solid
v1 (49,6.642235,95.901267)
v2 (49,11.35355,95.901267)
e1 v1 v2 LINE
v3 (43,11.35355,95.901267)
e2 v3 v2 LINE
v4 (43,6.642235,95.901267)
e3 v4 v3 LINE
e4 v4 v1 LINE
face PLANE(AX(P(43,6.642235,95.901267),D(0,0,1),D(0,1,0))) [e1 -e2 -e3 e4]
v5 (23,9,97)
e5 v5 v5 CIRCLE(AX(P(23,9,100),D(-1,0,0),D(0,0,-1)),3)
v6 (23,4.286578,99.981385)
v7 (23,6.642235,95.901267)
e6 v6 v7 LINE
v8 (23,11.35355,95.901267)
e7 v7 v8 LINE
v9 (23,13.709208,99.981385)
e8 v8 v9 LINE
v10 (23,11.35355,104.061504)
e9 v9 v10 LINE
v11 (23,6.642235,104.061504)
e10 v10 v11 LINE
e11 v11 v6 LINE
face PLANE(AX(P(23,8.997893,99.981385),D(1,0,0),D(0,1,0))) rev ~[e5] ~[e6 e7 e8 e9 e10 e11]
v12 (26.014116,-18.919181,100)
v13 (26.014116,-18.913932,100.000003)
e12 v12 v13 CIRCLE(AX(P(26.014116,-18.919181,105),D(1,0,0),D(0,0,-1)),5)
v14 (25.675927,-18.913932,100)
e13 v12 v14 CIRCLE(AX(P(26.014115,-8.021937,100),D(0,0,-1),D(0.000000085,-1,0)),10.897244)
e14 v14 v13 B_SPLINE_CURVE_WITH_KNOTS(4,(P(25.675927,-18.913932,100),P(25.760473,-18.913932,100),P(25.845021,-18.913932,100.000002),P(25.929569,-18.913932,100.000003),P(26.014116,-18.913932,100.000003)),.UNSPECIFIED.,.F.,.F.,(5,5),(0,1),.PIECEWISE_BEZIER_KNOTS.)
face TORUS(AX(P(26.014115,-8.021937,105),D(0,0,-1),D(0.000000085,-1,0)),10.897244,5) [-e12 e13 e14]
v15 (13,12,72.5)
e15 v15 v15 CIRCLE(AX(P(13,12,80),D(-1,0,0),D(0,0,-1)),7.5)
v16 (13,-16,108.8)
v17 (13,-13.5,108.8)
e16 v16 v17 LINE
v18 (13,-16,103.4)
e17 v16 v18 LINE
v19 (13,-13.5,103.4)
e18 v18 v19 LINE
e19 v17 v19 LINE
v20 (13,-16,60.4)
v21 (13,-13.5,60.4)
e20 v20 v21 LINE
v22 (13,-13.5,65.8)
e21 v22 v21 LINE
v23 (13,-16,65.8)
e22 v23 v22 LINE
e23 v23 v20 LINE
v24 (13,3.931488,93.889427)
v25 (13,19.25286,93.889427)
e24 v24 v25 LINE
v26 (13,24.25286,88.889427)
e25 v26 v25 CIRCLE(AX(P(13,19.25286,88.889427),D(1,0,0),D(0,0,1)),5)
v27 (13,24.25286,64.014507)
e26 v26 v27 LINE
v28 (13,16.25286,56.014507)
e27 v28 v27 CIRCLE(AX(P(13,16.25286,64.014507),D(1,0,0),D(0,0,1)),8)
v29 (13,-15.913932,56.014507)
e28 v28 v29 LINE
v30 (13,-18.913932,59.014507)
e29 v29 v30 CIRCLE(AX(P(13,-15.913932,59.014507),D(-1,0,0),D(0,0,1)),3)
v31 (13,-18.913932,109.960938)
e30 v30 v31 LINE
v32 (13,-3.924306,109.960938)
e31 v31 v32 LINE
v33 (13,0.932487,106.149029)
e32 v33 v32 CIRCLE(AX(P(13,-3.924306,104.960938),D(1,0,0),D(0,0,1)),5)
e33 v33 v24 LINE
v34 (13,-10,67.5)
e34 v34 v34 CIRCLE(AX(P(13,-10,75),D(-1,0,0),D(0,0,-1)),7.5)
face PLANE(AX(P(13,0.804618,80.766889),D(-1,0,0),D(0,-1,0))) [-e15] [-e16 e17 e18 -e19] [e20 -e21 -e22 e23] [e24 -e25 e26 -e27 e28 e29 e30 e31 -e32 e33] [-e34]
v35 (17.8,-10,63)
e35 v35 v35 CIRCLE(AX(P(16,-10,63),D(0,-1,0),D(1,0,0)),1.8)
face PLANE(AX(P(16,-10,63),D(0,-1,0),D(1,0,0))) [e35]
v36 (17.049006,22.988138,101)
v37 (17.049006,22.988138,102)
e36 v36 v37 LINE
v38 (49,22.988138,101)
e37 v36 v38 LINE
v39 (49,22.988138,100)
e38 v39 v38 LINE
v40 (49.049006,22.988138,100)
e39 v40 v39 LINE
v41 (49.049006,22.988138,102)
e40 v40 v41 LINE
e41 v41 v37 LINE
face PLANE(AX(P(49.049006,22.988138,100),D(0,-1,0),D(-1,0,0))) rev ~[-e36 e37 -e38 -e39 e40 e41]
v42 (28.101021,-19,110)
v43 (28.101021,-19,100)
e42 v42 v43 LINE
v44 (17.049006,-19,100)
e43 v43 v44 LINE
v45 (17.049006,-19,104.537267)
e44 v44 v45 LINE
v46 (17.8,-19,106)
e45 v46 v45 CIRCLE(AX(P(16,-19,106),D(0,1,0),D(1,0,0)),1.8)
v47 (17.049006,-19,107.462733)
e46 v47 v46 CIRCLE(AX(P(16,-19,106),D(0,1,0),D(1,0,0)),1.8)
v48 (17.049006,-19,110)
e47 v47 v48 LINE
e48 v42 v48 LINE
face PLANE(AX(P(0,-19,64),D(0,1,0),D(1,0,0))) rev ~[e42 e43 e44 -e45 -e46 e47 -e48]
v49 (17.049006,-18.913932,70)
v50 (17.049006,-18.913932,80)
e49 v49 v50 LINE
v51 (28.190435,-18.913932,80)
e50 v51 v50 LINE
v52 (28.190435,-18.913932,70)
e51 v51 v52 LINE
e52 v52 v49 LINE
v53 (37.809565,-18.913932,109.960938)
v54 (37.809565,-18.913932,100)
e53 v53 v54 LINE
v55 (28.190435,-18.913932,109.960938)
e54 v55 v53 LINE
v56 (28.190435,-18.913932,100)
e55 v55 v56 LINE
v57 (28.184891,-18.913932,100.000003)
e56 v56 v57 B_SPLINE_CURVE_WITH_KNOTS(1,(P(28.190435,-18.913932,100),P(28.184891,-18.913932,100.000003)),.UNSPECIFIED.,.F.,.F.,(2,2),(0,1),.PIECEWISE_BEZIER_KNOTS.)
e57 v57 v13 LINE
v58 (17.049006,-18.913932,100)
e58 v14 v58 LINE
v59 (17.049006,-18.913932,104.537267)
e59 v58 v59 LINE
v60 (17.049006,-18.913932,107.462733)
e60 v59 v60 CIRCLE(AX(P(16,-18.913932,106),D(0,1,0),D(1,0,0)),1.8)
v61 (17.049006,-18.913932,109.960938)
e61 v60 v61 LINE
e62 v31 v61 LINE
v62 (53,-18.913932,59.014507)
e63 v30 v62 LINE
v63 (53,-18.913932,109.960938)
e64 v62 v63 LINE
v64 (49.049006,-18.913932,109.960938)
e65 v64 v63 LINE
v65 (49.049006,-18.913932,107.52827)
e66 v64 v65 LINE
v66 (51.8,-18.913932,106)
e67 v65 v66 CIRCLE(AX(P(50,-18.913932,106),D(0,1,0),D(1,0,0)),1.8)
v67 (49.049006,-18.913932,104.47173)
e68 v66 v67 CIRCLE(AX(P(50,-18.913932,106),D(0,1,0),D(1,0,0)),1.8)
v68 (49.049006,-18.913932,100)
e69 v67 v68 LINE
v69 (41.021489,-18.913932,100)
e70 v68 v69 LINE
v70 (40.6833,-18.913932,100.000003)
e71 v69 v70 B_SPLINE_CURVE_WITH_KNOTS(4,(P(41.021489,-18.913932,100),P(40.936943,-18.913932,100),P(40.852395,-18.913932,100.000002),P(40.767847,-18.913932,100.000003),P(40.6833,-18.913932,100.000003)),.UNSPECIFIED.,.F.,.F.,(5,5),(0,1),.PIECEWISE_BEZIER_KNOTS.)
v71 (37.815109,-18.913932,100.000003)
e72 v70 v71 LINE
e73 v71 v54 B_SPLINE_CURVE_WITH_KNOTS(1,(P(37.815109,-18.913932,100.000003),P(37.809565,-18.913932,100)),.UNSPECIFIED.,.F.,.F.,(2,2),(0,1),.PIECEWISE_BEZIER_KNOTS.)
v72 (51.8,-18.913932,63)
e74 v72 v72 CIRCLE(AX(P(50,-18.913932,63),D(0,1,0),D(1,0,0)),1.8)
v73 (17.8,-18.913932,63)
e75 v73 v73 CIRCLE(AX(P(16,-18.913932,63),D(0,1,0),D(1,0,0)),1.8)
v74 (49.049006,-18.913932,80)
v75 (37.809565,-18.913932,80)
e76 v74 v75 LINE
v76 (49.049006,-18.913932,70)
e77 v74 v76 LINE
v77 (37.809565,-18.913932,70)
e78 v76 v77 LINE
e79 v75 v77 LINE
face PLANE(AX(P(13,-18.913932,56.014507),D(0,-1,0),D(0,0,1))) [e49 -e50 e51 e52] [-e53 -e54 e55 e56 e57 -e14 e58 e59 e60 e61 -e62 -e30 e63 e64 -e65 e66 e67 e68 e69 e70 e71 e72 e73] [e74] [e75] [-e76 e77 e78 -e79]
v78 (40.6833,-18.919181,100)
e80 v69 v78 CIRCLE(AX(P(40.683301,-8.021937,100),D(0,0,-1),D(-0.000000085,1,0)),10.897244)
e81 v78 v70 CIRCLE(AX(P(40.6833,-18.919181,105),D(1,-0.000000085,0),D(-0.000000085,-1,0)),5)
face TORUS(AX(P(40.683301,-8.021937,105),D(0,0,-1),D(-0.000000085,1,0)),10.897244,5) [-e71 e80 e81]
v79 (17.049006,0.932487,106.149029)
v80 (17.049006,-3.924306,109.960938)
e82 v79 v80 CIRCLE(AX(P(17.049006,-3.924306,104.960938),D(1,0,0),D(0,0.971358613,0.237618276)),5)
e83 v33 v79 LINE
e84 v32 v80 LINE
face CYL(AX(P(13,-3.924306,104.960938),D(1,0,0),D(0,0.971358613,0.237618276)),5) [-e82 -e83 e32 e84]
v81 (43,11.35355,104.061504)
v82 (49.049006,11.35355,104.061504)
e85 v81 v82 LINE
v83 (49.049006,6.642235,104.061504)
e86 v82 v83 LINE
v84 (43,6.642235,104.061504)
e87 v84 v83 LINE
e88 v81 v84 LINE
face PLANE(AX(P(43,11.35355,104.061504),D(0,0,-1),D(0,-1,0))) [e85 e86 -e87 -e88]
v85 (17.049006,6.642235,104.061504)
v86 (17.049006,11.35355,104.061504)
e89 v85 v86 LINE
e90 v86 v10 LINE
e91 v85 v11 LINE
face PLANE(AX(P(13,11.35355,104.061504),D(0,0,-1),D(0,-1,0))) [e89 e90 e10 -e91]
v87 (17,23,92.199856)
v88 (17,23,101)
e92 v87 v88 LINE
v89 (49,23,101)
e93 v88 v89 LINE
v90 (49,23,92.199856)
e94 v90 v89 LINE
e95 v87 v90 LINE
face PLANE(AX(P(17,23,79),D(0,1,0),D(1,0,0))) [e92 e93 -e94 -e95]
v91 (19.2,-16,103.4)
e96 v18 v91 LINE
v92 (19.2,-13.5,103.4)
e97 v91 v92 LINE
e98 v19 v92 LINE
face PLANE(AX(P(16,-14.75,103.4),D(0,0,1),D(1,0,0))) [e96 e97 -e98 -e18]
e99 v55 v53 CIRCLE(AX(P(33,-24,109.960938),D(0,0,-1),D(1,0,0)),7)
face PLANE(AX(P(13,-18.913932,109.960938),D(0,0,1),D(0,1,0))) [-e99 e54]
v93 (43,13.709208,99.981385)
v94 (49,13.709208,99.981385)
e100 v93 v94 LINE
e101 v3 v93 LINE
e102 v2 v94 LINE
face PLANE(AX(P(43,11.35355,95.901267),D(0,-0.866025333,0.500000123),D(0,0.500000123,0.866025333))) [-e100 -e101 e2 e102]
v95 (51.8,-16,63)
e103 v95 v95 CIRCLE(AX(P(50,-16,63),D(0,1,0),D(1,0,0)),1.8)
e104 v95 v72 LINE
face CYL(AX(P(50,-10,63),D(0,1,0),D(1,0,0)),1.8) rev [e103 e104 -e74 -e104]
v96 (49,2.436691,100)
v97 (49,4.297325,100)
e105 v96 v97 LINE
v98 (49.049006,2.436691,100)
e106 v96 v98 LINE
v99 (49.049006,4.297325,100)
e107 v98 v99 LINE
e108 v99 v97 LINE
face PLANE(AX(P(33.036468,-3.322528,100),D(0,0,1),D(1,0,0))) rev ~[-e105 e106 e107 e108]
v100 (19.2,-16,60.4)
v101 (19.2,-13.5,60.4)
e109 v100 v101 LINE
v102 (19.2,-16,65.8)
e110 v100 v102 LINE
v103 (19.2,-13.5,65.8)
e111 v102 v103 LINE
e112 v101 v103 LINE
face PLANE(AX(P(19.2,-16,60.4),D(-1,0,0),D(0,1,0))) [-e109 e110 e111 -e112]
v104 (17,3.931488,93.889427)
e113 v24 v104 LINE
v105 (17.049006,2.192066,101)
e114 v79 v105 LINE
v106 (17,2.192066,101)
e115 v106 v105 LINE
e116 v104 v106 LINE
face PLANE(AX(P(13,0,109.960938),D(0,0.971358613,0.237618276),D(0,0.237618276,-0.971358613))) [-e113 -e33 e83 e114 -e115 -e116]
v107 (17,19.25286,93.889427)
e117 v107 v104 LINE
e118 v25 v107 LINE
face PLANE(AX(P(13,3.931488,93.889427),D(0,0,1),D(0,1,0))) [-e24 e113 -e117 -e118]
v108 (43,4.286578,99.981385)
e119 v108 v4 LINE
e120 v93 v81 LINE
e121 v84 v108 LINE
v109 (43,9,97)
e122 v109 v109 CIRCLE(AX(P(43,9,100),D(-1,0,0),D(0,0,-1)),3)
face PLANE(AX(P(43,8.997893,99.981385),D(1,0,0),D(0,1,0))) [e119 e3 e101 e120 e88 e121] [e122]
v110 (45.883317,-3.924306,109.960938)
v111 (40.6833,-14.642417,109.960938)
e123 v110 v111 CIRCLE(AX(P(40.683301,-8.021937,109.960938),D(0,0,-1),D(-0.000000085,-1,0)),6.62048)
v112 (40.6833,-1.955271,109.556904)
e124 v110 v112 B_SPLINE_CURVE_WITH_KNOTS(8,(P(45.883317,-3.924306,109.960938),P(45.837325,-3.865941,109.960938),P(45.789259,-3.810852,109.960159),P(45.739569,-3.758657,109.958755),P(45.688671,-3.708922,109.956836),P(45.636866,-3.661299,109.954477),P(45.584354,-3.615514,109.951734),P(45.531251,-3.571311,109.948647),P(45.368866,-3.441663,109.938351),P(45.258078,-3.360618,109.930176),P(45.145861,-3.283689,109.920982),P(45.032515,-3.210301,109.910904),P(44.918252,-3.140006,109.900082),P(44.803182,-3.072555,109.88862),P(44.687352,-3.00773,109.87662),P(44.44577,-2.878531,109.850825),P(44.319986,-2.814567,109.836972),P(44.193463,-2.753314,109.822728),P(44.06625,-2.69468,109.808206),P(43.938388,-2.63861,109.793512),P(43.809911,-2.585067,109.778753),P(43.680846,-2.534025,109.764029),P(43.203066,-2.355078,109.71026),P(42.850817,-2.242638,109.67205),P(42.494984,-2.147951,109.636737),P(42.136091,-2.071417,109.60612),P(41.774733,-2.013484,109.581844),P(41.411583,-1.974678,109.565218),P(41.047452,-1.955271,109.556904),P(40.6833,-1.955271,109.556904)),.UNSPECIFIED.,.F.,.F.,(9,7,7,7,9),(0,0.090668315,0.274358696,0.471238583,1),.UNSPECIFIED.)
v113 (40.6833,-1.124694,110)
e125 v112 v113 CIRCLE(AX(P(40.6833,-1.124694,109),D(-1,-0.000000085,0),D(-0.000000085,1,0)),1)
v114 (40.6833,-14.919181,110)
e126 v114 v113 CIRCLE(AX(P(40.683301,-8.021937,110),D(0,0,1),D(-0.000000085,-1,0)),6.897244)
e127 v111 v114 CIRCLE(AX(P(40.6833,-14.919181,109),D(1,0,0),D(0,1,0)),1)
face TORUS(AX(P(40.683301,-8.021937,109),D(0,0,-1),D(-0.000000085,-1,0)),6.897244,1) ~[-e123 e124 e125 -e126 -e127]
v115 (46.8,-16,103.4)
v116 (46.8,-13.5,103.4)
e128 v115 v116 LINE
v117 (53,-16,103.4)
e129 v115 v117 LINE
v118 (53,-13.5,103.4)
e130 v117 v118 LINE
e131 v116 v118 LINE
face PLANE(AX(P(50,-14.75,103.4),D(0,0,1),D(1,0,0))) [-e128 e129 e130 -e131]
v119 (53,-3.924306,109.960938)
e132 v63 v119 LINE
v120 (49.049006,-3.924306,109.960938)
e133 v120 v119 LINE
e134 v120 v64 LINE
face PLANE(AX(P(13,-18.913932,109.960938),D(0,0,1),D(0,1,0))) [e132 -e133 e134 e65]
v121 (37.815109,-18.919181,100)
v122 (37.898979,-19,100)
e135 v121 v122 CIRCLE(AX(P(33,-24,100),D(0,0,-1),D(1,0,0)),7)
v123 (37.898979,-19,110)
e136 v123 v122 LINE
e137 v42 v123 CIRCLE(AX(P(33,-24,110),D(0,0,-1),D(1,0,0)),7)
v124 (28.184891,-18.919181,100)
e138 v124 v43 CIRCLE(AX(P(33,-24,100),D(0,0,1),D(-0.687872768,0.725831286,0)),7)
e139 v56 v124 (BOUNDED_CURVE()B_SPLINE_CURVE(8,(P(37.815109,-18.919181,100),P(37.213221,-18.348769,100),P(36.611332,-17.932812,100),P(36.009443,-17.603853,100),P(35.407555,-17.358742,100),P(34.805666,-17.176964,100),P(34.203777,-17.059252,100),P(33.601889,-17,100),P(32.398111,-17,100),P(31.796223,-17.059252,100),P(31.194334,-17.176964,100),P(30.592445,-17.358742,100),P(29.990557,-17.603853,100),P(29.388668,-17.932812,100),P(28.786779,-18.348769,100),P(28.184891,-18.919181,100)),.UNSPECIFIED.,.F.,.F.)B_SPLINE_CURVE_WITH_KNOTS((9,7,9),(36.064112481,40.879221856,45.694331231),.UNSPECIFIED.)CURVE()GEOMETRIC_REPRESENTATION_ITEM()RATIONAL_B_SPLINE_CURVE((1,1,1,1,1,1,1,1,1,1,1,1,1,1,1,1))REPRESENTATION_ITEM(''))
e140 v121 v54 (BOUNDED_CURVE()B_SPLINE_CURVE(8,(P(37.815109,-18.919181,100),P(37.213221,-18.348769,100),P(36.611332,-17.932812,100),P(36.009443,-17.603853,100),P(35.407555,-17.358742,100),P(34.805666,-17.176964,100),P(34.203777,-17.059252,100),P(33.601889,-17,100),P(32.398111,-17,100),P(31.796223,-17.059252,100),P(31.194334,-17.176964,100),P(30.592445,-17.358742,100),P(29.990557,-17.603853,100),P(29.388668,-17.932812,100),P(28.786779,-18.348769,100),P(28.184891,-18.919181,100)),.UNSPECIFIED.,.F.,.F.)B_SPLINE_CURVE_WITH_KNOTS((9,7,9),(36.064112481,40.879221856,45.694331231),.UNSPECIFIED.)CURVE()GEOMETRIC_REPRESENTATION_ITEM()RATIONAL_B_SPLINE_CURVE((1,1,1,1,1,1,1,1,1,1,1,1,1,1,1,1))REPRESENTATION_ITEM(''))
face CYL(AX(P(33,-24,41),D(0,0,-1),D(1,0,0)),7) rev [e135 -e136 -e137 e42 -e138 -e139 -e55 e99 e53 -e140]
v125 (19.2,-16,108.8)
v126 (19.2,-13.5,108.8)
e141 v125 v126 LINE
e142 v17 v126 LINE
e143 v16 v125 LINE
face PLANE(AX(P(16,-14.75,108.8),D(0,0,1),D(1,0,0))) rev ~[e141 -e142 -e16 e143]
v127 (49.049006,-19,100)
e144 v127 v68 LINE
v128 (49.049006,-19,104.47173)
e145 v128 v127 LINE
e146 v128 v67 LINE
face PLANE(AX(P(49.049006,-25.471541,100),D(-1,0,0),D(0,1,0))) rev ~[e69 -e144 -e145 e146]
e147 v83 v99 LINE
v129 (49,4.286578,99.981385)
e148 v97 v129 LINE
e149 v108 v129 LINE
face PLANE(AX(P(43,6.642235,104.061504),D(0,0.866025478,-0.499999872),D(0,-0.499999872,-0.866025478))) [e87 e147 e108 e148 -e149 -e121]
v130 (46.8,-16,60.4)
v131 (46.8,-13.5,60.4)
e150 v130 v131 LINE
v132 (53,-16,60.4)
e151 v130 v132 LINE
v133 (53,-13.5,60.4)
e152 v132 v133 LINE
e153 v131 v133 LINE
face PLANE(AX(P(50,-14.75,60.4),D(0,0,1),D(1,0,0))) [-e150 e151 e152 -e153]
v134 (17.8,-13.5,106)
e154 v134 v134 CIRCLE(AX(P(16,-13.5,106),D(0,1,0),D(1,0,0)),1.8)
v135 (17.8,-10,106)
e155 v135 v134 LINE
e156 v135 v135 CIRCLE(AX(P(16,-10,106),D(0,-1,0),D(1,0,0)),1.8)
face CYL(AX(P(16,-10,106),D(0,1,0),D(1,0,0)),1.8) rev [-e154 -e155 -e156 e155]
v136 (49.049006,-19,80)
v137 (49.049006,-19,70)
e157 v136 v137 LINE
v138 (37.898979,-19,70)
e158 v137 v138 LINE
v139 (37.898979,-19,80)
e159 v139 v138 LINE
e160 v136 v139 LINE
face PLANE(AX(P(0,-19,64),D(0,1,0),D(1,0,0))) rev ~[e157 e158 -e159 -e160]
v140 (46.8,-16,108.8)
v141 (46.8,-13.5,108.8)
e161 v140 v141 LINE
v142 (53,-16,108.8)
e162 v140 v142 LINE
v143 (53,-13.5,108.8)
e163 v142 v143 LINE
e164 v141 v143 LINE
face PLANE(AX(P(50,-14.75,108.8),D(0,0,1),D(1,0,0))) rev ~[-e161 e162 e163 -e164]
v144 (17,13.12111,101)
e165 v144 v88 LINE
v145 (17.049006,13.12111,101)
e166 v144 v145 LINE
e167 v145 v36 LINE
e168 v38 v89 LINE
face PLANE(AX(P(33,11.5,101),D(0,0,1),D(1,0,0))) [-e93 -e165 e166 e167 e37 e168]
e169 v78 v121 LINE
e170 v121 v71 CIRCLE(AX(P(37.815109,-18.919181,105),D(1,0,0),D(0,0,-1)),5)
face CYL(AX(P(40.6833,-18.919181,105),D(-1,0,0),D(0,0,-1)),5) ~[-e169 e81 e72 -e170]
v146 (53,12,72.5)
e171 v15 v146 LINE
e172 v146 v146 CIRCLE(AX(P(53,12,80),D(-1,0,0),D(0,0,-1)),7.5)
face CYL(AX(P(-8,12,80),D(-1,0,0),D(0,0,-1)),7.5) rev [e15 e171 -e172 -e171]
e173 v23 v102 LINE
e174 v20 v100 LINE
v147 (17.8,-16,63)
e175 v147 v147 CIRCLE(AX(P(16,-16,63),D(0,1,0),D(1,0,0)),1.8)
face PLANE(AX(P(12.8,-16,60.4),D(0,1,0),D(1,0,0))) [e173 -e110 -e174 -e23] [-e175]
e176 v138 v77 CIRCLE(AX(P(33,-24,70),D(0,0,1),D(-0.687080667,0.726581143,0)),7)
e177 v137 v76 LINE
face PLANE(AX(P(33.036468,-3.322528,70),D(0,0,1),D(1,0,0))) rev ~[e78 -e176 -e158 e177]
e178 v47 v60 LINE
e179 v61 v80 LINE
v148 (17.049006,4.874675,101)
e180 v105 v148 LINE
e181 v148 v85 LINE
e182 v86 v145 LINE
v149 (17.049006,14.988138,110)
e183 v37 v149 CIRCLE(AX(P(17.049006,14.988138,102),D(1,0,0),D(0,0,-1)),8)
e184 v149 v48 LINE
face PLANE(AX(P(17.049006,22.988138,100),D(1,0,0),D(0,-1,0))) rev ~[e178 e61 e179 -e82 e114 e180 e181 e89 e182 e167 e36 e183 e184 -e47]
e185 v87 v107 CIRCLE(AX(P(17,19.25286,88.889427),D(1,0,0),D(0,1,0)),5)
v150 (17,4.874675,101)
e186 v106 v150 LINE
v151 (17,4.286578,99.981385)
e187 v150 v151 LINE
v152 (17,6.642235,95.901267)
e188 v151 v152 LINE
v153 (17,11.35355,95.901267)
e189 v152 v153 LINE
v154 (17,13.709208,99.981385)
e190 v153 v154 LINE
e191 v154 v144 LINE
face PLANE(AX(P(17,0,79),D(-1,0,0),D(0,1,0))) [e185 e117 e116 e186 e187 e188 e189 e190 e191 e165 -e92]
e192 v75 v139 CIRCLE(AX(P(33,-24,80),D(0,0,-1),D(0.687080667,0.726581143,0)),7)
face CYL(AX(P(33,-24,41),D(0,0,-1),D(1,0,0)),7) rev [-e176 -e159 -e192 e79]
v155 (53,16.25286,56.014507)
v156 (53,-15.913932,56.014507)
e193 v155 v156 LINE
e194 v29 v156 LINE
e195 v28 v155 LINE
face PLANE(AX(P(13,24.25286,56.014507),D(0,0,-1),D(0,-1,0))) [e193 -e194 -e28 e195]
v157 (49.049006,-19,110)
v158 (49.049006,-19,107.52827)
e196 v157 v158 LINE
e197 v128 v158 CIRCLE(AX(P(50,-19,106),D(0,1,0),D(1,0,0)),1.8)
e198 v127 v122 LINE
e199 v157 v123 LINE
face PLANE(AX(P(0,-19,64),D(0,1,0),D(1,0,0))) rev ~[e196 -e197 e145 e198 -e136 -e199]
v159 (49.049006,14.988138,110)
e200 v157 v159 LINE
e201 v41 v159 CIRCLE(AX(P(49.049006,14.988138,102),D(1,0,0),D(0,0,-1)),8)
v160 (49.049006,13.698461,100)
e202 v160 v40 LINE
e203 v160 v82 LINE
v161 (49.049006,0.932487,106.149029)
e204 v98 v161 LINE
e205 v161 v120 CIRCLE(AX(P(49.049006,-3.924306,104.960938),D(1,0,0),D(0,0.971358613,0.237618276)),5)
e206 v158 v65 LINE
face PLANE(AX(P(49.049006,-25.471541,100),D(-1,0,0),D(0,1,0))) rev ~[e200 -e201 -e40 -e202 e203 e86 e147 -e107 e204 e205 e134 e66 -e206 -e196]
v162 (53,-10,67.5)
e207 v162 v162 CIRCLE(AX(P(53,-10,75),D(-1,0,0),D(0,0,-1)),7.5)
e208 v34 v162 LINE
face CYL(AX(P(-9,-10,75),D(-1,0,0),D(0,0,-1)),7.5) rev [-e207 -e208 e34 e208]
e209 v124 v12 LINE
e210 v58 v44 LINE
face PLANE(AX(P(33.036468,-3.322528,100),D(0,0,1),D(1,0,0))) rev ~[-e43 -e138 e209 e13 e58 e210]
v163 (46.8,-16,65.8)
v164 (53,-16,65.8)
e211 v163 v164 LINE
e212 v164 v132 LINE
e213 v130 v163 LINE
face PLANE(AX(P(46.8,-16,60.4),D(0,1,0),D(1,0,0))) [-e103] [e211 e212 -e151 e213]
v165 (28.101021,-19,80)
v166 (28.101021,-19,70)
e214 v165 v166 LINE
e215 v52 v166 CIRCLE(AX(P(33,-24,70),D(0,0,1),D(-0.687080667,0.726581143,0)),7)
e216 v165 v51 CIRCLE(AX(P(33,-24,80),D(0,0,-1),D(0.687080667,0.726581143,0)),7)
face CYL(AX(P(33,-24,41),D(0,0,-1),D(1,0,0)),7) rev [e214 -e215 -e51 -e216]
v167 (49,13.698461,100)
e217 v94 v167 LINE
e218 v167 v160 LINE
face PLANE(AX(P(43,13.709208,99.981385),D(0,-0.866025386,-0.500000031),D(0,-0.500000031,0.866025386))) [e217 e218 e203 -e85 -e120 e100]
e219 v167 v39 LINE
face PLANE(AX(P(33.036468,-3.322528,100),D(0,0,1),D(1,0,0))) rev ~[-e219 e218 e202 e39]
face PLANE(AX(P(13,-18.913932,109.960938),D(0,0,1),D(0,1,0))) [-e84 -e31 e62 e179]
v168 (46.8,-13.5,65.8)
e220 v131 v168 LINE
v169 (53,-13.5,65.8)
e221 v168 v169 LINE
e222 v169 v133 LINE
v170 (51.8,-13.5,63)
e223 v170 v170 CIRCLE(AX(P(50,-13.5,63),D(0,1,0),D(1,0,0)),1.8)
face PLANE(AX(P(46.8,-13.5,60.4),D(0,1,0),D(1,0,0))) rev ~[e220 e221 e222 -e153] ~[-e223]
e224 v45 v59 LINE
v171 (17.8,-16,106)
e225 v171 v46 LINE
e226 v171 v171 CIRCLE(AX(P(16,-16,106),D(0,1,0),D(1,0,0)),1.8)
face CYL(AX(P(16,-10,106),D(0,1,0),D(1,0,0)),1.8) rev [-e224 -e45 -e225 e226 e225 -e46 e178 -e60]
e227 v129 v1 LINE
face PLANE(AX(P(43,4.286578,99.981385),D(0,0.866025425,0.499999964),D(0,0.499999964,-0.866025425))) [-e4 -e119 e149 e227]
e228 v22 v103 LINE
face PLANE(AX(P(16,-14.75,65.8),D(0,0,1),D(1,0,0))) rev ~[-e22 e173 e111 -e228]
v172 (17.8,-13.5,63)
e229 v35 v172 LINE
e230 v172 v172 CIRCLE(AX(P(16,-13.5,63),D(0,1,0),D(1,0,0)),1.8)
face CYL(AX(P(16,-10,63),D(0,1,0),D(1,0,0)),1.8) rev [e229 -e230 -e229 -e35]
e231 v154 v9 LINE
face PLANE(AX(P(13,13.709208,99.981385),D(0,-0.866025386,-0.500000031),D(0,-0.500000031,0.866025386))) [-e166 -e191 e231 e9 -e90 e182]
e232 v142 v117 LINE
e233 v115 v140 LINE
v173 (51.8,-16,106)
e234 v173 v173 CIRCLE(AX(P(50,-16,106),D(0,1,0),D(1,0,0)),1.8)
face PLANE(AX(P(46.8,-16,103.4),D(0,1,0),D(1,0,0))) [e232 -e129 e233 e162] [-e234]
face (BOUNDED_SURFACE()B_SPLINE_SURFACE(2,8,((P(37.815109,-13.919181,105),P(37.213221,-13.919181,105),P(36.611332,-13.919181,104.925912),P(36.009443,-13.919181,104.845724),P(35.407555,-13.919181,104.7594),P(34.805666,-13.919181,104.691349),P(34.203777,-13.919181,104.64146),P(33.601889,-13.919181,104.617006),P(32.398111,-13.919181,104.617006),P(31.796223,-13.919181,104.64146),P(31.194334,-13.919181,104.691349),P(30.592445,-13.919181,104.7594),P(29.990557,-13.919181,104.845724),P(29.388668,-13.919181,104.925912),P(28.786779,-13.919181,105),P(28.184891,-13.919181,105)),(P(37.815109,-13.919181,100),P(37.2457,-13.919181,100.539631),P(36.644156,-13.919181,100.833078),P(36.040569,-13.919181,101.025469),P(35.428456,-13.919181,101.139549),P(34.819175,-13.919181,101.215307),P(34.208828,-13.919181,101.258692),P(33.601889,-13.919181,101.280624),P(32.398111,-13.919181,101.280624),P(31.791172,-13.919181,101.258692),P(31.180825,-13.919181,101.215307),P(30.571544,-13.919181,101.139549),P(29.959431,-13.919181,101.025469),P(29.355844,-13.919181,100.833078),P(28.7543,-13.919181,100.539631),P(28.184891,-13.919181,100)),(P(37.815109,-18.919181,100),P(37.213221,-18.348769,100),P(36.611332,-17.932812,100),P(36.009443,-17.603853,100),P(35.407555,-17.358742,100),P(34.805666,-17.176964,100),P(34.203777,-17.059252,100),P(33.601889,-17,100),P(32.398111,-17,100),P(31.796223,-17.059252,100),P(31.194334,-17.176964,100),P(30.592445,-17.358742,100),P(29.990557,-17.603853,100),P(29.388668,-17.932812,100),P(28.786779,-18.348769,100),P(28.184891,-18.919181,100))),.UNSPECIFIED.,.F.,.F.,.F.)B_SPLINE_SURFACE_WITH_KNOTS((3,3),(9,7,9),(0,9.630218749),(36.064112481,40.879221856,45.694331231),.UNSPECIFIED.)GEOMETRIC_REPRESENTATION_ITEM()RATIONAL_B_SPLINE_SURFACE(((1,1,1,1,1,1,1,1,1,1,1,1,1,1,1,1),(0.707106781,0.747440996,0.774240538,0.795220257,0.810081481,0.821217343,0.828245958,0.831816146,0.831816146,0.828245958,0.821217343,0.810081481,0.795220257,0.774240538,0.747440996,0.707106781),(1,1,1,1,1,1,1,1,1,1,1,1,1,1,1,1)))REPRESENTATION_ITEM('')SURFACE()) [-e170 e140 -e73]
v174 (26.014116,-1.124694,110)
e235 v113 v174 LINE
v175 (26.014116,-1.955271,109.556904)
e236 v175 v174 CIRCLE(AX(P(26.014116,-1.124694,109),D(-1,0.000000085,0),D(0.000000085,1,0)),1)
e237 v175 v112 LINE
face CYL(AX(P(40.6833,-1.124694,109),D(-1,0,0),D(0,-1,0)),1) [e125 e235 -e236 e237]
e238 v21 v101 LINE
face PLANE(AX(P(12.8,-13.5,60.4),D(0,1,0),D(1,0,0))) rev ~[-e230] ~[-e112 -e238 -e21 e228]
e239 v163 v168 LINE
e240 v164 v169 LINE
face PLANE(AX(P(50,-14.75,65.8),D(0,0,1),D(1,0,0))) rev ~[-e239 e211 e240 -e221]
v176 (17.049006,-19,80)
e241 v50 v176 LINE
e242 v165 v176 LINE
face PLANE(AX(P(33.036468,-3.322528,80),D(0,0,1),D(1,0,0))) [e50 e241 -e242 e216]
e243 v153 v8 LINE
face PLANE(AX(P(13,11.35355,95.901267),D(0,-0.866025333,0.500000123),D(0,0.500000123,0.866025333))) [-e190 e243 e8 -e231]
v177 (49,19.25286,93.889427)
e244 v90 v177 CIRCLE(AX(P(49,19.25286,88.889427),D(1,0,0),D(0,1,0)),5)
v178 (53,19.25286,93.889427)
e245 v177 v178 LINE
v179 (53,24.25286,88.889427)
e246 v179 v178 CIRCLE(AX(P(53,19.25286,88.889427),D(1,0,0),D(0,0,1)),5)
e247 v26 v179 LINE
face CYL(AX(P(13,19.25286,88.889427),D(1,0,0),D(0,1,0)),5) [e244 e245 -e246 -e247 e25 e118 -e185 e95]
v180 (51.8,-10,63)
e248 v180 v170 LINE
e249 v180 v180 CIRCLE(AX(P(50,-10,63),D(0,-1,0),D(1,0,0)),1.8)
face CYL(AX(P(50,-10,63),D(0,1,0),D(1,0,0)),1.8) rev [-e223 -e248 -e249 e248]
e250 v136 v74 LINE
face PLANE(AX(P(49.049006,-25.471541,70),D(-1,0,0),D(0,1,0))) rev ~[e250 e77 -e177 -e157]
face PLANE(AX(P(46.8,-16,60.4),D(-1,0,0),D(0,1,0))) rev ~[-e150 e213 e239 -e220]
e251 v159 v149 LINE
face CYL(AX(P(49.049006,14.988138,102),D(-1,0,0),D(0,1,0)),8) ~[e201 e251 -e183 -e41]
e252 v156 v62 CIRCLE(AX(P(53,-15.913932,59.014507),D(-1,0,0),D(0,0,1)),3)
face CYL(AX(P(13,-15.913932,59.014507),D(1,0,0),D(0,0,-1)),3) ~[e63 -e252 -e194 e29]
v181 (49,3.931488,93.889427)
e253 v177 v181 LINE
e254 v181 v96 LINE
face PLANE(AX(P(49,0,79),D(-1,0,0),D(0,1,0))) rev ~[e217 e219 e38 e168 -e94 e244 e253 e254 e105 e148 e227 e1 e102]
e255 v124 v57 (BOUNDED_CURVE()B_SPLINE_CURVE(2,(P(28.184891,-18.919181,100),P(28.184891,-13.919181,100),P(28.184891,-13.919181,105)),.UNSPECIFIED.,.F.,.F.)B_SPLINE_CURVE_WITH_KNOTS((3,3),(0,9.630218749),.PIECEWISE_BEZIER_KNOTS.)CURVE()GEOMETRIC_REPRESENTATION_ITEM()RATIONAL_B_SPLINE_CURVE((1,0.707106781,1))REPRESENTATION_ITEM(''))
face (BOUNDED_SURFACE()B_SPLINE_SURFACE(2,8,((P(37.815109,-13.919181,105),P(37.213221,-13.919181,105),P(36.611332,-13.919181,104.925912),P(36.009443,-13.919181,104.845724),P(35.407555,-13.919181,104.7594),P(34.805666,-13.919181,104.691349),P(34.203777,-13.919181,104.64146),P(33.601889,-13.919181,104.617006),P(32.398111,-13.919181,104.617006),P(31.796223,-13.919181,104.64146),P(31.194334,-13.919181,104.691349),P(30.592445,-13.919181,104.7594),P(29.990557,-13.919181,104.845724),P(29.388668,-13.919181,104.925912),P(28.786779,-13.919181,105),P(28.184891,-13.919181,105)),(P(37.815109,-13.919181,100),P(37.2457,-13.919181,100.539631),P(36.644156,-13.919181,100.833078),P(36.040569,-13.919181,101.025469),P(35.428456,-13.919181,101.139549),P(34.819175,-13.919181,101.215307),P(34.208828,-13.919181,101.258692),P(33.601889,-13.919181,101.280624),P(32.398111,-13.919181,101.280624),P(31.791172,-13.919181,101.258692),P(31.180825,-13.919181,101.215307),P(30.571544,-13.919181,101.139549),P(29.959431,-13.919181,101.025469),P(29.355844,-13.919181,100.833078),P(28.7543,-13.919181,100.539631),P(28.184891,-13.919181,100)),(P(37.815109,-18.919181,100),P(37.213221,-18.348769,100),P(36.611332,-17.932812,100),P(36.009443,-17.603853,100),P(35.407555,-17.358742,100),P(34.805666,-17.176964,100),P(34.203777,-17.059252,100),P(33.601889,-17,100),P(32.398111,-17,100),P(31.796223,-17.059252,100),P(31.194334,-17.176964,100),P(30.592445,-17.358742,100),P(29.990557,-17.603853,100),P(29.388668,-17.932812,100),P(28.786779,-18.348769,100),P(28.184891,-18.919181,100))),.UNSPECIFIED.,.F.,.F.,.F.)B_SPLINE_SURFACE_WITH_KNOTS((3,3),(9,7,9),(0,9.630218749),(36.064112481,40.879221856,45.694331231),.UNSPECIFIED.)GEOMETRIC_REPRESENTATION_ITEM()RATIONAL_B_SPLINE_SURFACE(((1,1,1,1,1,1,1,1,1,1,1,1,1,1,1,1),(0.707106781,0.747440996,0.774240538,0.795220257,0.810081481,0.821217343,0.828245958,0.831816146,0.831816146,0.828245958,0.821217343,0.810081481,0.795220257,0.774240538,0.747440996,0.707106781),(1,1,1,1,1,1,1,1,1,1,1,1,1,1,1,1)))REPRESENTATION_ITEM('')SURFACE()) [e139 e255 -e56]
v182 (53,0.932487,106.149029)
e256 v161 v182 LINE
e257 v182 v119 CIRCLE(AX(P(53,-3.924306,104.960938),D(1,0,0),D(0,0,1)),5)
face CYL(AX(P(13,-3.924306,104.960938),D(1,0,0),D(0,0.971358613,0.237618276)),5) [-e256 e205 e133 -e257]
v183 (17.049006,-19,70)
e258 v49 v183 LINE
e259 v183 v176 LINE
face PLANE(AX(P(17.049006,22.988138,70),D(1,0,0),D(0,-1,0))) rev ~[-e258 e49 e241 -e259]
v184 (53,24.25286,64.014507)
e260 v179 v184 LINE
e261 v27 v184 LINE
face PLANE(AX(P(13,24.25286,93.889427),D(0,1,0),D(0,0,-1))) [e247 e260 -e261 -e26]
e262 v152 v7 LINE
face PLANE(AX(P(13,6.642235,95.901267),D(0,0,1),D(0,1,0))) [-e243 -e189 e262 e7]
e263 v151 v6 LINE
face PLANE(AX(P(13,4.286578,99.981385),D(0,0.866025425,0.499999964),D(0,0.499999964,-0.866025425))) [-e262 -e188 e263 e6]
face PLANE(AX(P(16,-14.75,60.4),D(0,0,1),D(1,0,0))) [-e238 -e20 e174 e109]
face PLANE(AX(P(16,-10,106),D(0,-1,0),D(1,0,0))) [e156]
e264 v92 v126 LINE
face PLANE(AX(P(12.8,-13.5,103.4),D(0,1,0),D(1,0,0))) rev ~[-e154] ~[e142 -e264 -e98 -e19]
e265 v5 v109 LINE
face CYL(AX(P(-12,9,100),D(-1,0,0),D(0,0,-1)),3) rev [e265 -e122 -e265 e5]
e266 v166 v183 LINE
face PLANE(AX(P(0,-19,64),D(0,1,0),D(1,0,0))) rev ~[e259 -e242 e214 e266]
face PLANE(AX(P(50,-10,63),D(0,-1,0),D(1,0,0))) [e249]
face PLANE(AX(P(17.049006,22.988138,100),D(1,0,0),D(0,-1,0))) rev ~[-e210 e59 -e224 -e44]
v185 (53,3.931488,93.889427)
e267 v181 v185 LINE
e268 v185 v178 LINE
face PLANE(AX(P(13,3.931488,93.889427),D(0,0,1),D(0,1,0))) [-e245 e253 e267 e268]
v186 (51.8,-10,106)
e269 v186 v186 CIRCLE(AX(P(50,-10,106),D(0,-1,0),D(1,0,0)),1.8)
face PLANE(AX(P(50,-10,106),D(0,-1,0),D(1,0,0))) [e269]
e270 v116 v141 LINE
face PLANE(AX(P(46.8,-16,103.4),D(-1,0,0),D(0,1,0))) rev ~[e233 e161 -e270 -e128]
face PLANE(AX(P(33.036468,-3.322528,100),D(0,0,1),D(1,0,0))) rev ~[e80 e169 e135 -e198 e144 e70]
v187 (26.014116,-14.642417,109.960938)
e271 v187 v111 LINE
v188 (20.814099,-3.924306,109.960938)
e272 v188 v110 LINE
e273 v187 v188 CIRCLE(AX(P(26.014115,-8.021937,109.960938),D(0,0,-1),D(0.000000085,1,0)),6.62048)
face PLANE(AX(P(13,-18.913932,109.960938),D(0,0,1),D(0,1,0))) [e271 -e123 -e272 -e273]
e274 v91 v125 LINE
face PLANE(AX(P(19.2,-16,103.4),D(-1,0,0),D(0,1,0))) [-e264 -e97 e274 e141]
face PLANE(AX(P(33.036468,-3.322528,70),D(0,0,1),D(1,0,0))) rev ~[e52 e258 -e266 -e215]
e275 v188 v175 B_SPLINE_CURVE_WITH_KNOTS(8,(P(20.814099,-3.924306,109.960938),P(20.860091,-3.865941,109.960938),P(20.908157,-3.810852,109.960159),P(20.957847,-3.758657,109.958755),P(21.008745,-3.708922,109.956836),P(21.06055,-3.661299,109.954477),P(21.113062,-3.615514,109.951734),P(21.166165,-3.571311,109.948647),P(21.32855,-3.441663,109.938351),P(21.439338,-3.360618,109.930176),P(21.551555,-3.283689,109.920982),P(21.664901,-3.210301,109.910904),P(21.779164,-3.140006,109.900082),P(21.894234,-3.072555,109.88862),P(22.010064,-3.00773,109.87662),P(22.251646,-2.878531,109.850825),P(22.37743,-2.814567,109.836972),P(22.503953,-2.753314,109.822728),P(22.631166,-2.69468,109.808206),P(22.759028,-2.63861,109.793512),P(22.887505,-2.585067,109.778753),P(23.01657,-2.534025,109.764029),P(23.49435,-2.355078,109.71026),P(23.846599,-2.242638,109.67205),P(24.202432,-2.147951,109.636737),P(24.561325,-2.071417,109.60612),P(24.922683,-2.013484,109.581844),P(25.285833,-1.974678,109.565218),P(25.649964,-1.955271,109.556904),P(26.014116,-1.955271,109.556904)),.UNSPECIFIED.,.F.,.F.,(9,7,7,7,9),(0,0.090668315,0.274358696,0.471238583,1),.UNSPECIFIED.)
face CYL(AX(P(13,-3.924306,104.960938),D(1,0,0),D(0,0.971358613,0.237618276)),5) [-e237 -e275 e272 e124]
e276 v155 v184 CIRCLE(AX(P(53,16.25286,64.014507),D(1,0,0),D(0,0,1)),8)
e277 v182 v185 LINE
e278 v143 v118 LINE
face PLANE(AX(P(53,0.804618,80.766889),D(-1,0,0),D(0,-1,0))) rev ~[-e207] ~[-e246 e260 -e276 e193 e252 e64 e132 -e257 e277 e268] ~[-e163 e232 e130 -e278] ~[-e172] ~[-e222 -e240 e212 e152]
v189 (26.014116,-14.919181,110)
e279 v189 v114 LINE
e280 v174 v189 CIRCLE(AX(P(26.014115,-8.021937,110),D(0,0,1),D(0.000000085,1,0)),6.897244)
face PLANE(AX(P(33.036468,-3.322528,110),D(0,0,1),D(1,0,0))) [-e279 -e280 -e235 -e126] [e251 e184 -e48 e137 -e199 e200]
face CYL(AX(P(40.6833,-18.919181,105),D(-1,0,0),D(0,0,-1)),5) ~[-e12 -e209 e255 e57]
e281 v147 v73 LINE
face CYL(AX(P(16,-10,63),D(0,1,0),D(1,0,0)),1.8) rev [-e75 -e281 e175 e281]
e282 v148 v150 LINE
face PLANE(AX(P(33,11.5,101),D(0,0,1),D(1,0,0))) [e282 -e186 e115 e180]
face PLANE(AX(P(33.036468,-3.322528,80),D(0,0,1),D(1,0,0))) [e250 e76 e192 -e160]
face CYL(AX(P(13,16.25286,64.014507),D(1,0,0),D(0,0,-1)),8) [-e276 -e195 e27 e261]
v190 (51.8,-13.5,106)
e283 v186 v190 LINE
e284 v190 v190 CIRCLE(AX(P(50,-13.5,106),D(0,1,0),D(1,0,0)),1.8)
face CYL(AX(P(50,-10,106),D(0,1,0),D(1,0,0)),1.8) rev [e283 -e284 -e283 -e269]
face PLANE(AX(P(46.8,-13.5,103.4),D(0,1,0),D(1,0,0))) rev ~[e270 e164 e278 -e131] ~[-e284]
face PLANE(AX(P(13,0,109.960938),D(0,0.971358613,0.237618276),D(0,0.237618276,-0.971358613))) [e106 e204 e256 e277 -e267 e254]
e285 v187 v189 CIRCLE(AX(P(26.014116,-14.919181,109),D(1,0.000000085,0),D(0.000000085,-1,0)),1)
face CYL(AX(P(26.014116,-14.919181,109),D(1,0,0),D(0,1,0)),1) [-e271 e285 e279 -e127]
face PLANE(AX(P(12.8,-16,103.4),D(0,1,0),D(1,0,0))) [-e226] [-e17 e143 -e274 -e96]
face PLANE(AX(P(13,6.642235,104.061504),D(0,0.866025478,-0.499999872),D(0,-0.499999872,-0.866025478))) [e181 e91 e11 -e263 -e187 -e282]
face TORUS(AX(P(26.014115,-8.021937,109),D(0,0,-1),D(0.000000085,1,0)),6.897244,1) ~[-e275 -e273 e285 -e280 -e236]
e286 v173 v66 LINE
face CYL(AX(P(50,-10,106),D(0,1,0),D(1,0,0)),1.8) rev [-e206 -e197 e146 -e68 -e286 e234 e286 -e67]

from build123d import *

# Parameters (mm, degrees)
CYLINDER078_R           = 7.5
CYLINDER078_DEPTH       = 180
CYLINDER078_PITCH_ANGLE = 90
CYLINDER090_R           = 7.5
CYLINDER090_DEPTH       = 180
CYLINDER090_PITCH_ANGLE = 90
CYLINDER099_R           = 1.8
CYLINDER099_DEPTH       = 34
CYLINDER099_ROLL_ANGLE  = 90
CYLINDER098_R           = 1.8
CYLINDER098_DEPTH       = 34
CYLINDER098_ROLL_ANGLE  = 90
CYLINDER101_R           = 1.8
CYLINDER101_DEPTH       = 34
CYLINDER101_ROLL_ANGLE  = 90
CYLINDER100_R           = 1.8
CYLINDER100_DEPTH       = 34
CYLINDER100_ROLL_ANGLE  = 90
BOX049_W                = 6.4
BOX049_H                = 2.5
BOX049_DEPTH            = 5.4
BOX050_W                = 6.4
BOX050_H                = 2.5
BOX050_DEPTH            = 5.4
BOX051_W                = 6.4
BOX051_H                = 2.5
BOX051_DEPTH            = 5.4
BOX052_W                = 6.4
BOX052_H                = 2.5
BOX052_DEPTH            = 5.4
BOX045_W                = 59
BOX045_H                = 21
BOX045_DEPTH            = 48
BOX044_W                = 3
BOX044_H                = 6
BOX044_DEPTH            = 23
CYLINDER095_R           = 1.4
CYLINDER095_DEPTH       = 10
CYLINDER095_ROLL_ANGLE  = 90
CYLINDER097_R           = 1.4
CYLINDER097_DEPTH       = 10
CYLINDER097_ROLL_ANGLE  = 90
CYLINDER094_R           = 5
CYLINDER094_DEPTH       = 5
CYLINDER094_ROLL_ANGLE  = 90
CYLINDER093_R           = 3
CYLINDER093_DEPTH       = 180
CYLINDER093_PITCH_ANGLE = 90
PAD050_DEPTH            = 10
PAD049_DEPTH            = 10
CYLINDER091_R           = 7.5
CYLINDER091_DEPTH       = 180
CYLINDER091_PITCH_ANGLE = 90
CYLINDER092_R           = 7
CYLINDER092_DEPTH       = 120
PAD048_DEPTH            = 10
PAD047_DEPTH            = 10
BOX043_W                = 32
BOX043_H                = 23
BOX043_DEPTH            = 22
FILLET029_R             = 5
FILLET030_R             = 8
FILLET031_R             = 8
FILLET032_R             = 3
FILLET033_R             = 1
FILLET034_R             = 1
FILLET035_R             = 1
FILLET036_R             = 1
CYLINDER096_R           = 5
CYLINDER096_DEPTH       = 5
CYLINDER096_ROLL_ANGLE  = 90
PAD052_DEPTH            = 40
FILLET041_R             = 3
FILLET042_R             = 8
FILLET043_R             = 5
FILLET044_R             = 5


with BuildPart() as m026:
    # Cylinder078 → Cylinder078 (new body)
    with BuildSketch(Plane.XY):
        Circle(CYLINDER078_R)
    extrude(amount=CYLINDER078_DEPTH)


with BuildPart() as m026_1:
    # Cylinder078 pitch: moved
    add(m026.part.rotate(Axis((0, 0, 0), (0, 1, 0)), CYLINDER078_PITCH_ANGLE))


with BuildPart() as m026_2:
    # Cylinder078 placement: moved
    add(m026_1.part.moved(Location((-8, 12, 80))))


with BuildPart() as m029:
    # Cylinder090 → Cylinder090 (new body)
    with BuildSketch(Plane.XY):
        Circle(CYLINDER090_R)
    extrude(amount=CYLINDER090_DEPTH)


with BuildPart() as m029_1:
    # Cylinder090 pitch: moved
    add(m029.part.rotate(Axis((0, 0, 0), (0, 1, 0)), CYLINDER090_PITCH_ANGLE))


with BuildPart() as m029_2:
    # Cylinder090 placement: moved
    add(m029_1.part.moved(Location((-9, -10, 75))))


with BuildPart() as cilindro055:
    # Cylinder099 → Cylinder099 (new body)
    with BuildSketch(Plane.XY):
        Circle(CYLINDER099_R)
    extrude(amount=CYLINDER099_DEPTH)


with BuildPart() as cilindro055_1:
    # Cylinder099 roll: moved
    add(cilindro055.part.rotate(Axis((0, 0, 0), (1, 0, 0)), CYLINDER099_ROLL_ANGLE))


with BuildPart() as cilindro055_2:
    # Cylinder099 placement: moved
    add(cilindro055_1.part.moved(Location((16, -10, 63))))


with BuildPart() as fusion050:
    # Cylinder098 → Cylinder098 (new body)
    with BuildSketch(Plane.XY):
        Circle(CYLINDER098_R)
    extrude(amount=CYLINDER098_DEPTH)


with BuildPart() as fusion050_1:
    # Cylinder098 roll: moved
    add(fusion050.part.rotate(Axis((0, 0, 0), (1, 0, 0)), CYLINDER098_ROLL_ANGLE))


with BuildPart() as fusion050_2:
    # Cylinder098 placement: moved
    add(fusion050_1.part.moved(Location((50, -10, 63))))

    # Fusion050: union Cilindro055
    add(cilindro055_2.part)


with BuildPart() as cilindro057:
    # Cylinder101 → Cylinder101 (new body)
    with BuildSketch(Plane.XY):
        Circle(CYLINDER101_R)
    extrude(amount=CYLINDER101_DEPTH)


with BuildPart() as cilindro057_1:
    # Cylinder101 roll: moved
    add(cilindro057.part.rotate(Axis((0, 0, 0), (1, 0, 0)), CYLINDER101_ROLL_ANGLE))


with BuildPart() as cilindro057_2:
    # Cylinder101 placement: moved
    add(cilindro057_1.part.moved(Location((16, -10, 63))))


with BuildPart() as fusion055:
    # Cylinder100 → Cylinder100 (new body)
    with BuildSketch(Plane.XY):
        Circle(CYLINDER100_R)
    extrude(amount=CYLINDER100_DEPTH)


with BuildPart() as fusion055_1:
    # Cylinder100 roll: moved
    add(fusion055.part.rotate(Axis((0, 0, 0), (1, 0, 0)), CYLINDER100_ROLL_ANGLE))


with BuildPart() as fusion055_2:
    # Cylinder100 placement: moved
    add(fusion055_1.part.moved(Location((50, -10, 63))))

    # Fusion051: union Cilindro057
    add(cilindro057_2.part)


with BuildPart() as fusion055_3:
    # Fusion051 placement: moved
    add(fusion055_2.part.moved(Location((0, 0, 43))))

    # Fusion055: union Fusion050
    add(fusion050_2.part)


with BuildPart() as cubo044:
    # Box049 → Box049 (new body)
    with BuildSketch(Plane(origin=(12.8, -23, 60.4), x_dir=(1, 0, 0), z_dir=(0, 0, 1))):
        with Locations((3.2, 1.25)):
            Rectangle(BOX049_W, BOX049_H)
    extrude(amount=BOX049_DEPTH)


with BuildPart() as fusion052:
    # Box050 → Box050 (new body)
    with BuildSketch(Plane(origin=(12.8, -23, 103.4), x_dir=(1, 0, 0), z_dir=(0, 0, 1))):
        with Locations((3.2, 1.25)):
            Rectangle(BOX050_W, BOX050_H)
    extrude(amount=BOX050_DEPTH)

    # Fusion052: union Cubo044
    add(cubo044.part)


with BuildPart() as cubo046:
    # Box051 → Box051 (new body)
    with BuildSketch(Plane(origin=(12.8, -23, 60.4), x_dir=(1, 0, 0), z_dir=(0, 0, 1))):
        with Locations((3.2, 1.25)):
            Rectangle(BOX051_W, BOX051_H)
    extrude(amount=BOX051_DEPTH)


with BuildPart() as fusion054:
    # Box052 → Box052 (new body)
    with BuildSketch(Plane(origin=(12.8, -23, 103.4), x_dir=(1, 0, 0), z_dir=(0, 0, 1))):
        with Locations((3.2, 1.25)):
            Rectangle(BOX052_W, BOX052_H)
    extrude(amount=BOX052_DEPTH)

    # Fusion053: union Cubo046
    add(cubo046.part)


with BuildPart() as fusion054_1:
    # Fusion053 placement: moved
    add(fusion054.part.moved(Location((34, 0, 0))))

    # Fusion054: union Fusion052
    add(fusion052.part)


with BuildPart() as fusion054_2:
    # Fusion054 placement: moved
    add(fusion054_1.part.moved(Location((0, 7, 0))))


with BuildPart() as cubo040:
    # Box045 → Box045 (new body)
    with BuildSketch(Plane(origin=(0, -40, 64), x_dir=(1, 0, 0), z_dir=(0, 0, 1))):
        with Locations((29.5, 10.5)):
            Rectangle(BOX045_W, BOX045_H)
    extrude(amount=BOX045_DEPTH)


with BuildPart() as cubo039:
    # Box044 → Box044 (new body)
    with BuildSketch(Plane(origin=(17, -11, 79), x_dir=(1, 0, 0), z_dir=(0, 0, 1))):
        with Locations((1.5, 3)):
            Rectangle(BOX044_W, BOX044_H)
    extrude(amount=BOX044_DEPTH)


with BuildPart() as cilindro051:
    # Cylinder095 → Cylinder095 (new body)
    with BuildSketch(Plane.XY):
        Circle(CYLINDER095_R)
    extrude(amount=CYLINDER095_DEPTH)


with BuildPart() as cilindro051_1:
    # Cylinder095 roll: moved
    add(cilindro051.part.rotate(Axis((0, 0, 0), (1, 0, 0)), CYLINDER095_ROLL_ANGLE))


with BuildPart() as cilindro051_2:
    # Cylinder095 placement: moved
    add(cilindro051_1.part.moved(Location((33, -27, 105))))


with BuildPart() as cilindro053:
    # Cylinder097 → Cylinder097 (new body)
    with BuildSketch(Plane.XY):
        Circle(CYLINDER097_R)
    extrude(amount=CYLINDER097_DEPTH)


with BuildPart() as cilindro053_1:
    # Cylinder097 roll: moved
    add(cilindro053.part.rotate(Axis((0, 0, 0), (1, 0, 0)), CYLINDER097_ROLL_ANGLE))


with BuildPart() as cilindro053_2:
    # Cylinder097 placement: moved
    add(cilindro053_1.part.moved(Location((33, -27, 75))))


with BuildPart() as cilindro050:
    # Cylinder094 → Cylinder094 (new body)
    with BuildSketch(Plane.XY):
        Circle(CYLINDER094_R)
    extrude(amount=CYLINDER094_DEPTH)


with BuildPart() as cilindro050_1:
    # Cylinder094 roll: moved
    add(cilindro050.part.rotate(Axis((0, 0, 0), (1, 0, 0)), CYLINDER094_ROLL_ANGLE))


with BuildPart() as cilindro050_2:
    # Cylinder094 placement: moved
    add(cilindro050_1.part.moved(Location((33, -31, 105))))


with BuildPart() as m031:
    # Cylinder093 → Cylinder093 (new body)
    with BuildSketch(Plane.XY):
        Circle(CYLINDER093_R)
    extrude(amount=CYLINDER093_DEPTH)


with BuildPart() as m031_1:
    # Cylinder093 pitch: moved
    add(m031.part.rotate(Axis((0, 0, 0), (0, 1, 0)), CYLINDER093_PITCH_ANGLE))


with BuildPart() as m031_2:
    # Cylinder093 placement: moved
    add(m031_1.part.moved(Location((-12, 9, 100))))


with BuildPart() as pad050:
    # Sketch057 → Pad050 (new body)
    with BuildSketch(Plane(origin=(43, 9, 0), x_dir=(0, 1, 0), z_dir=(1, 0, 0))):
        Polygon((-4.713422, 99.981385), (-2.357765, 95.901267), (2.35355, 95.901267), (4.709208, 99.981385), (2.35355, 104.061504), (-2.357765, 104.061504), align=None)
    extrude(amount=PAD050_DEPTH)


with BuildPart() as pad049:
    # Sketch056 → Pad049 (new body)
    with BuildSketch(Plane(origin=(13, 9, 0), x_dir=(0, 1, 0), z_dir=(1, 0, 0))):
        Polygon((-4.713422, 99.981385), (-2.357765, 95.901267), (2.35355, 95.901267), (4.709208, 99.981385), (2.35355, 104.061504), (-2.357765, 104.061504), align=None)
    extrude(amount=PAD049_DEPTH)


with BuildPart() as m030:
    # Cylinder091 → Cylinder091 (new body)
    with BuildSketch(Plane.XY):
        Circle(CYLINDER091_R)
    extrude(amount=CYLINDER091_DEPTH)


with BuildPart() as m030_1:
    # Cylinder091 pitch: moved
    add(m030.part.rotate(Axis((0, 0, 0), (0, 1, 0)), CYLINDER091_PITCH_ANGLE))


with BuildPart() as m030_2:
    # Cylinder091 placement: moved
    add(m030_1.part.moved(Location((-12, 12, 80))))


with BuildPart() as cilindro049:
    # Cylinder092 → Cylinder092 (new body)
    with BuildSketch(Plane(origin=(33, -24, 41), x_dir=(1, 0, 0), z_dir=(0, 0, 1))):
        Circle(CYLINDER092_R)
    extrude(amount=CYLINDER092_DEPTH)


with BuildPart() as pad048:
    # Sketch055 → Pad048 (new body)
    with BuildSketch(Plane.XY.offset(100)):
        Polygon((23.049006, -25.471541), (25.637042, -30.500033), (30.141413, -33.919727), (35.796642, -33.874552), (40.245807, -30.383337), (43.049006, -25.471541), (49.049006, -25.471541), (49.049006, 22.988138), (17.049006, 22.988138), (17.049006, -25.471541), align=None)
        with BuildLine():
            ThreePointArc((26.014116, -2.124694), (20.116872, -8.021937), (26.014116, -13.919181))
            Line((26.014116, -13.919181), (40.6833, -13.919181))
            ThreePointArc((40.6833, -13.919181), (46.580544, -8.021937), (40.6833, -2.124694))
            Line((26.014116, -2.124694), (40.6833, -2.124694))
        make_face(mode=Mode.SUBTRACT)
    extrude(amount=PAD048_DEPTH)


with BuildPart() as pad047:
    # Sketch054 → Pad047 (new body)
    with BuildSketch(Plane.XY.offset(70)):
        Polygon((23.049006, -25.471541), (25.637042, -30.500033), (30.141413, -33.919727), (35.796642, -33.874552), (40.245807, -30.383337), (43.049006, -25.471541), (49.049006, -25.471541), (49.049006, 22.988138), (17.049006, 22.988138), (17.049006, -25.471541), align=None)
        with BuildLine():
            ThreePointArc((26.014116, -2.124694), (20.116872, -8.021937), (26.014116, -13.919181))
            Line((26.014116, -13.919181), (40.6833, -13.919181))
            ThreePointArc((40.6833, -13.919181), (46.580544, -8.021937), (40.6833, -2.124694))
            Line((26.014116, -2.124694), (40.6833, -2.124694))
        make_face(mode=Mode.SUBTRACT)
    extrude(amount=PAD047_DEPTH)


with BuildPart() as fillet036:
    # Box043 → Box043 (new body)
    with BuildSketch(Plane(origin=(17, 0, 79), x_dir=(1, 0, 0), z_dir=(0, 0, 1))):
        with Locations((16, 11.5)):
            Rectangle(BOX043_W, BOX043_H)
    extrude(amount=BOX043_DEPTH)

    # Fusion046: union Pad048, Pad047
    add(pad048.part)
    add(pad047.part)

    # Cut113: cut Cilindro049
    add(cilindro049.part, mode=Mode.SUBTRACT)

    # Cut114: cut M030
    add(m030_2.part, mode=Mode.SUBTRACT)

    # Fillet029
    fillet029_edges = [fillet036.edges().sort_by_distance(p)[0] for p in [
        (33.348708, -2.124694, 100),
    ]]
    fillet(fillet029_edges, radius=FILLET029_R)

    # Fillet030
    fillet030_edges = [fillet036.edges().sort_by_distance(p)[0] for p in [
        (33.049006, 22.988138, 110),
    ]]
    fillet(fillet030_edges, radius=FILLET030_R)

    # Fillet031
    fillet031_edges = [fillet036.edges().sort_by_distance(p)[0] for p in [
        (33.049006, 22.988138, 70),
    ]]
    fillet(fillet031_edges, radius=FILLET031_R)

    # Fillet032
    fillet032_edges = [fillet036.edges().sort_by_distance(p)[0] for p in [
        (17.049006, -25.471541, 75),
        (49.049006, -25.471541, 75),
        (17.049006, -25.471541, 105),
        (49.049006, -25.471541, 105),
    ]]
    fillet(fillet032_edges, radius=FILLET032_R)

    # Fillet033
    fillet033_edges = [fillet036.edges().sort_by_distance(p)[0] for p in [
        (20.116872, -8.021937, 110),
    ]]
    fillet(fillet033_edges, radius=FILLET033_R)

    # Fillet034
    fillet034_edges = [fillet036.edges().sort_by_distance(p)[0] for p in [
        (46.580544, -8.021937, 80),
    ]]
    fillet(fillet034_edges, radius=FILLET034_R)

    # Fillet035
    fillet035_edges = [fillet036.edges().sort_by_distance(p)[0] for p in [
        (46.580544, -8.021937, 70),
    ]]
    fillet(fillet035_edges, radius=FILLET035_R)

    # Cut115: cut Pad049
    add(pad049.part, mode=Mode.SUBTRACT)

    # Cut116: cut Pad050
    add(pad050.part, mode=Mode.SUBTRACT)

    # Cut117: cut M031
    add(m031_2.part, mode=Mode.SUBTRACT)

    # Fillet036
    fillet036_edges = [fillet036.edges().sort_by_distance(p)[0] for p in [
        (33.024503, 0, 80),
    ]]
    fillet(fillet036_edges, radius=FILLET036_R)


with BuildPart() as fusion048:
    # Cylinder096 → Cylinder096 (new body)
    with BuildSketch(Plane.XY):
        Circle(CYLINDER096_R)
    extrude(amount=CYLINDER096_DEPTH)


with BuildPart() as fusion048_1:
    # Cylinder096 roll: moved
    add(fusion048.part.rotate(Axis((0, 0, 0), (1, 0, 0)), CYLINDER096_ROLL_ANGLE))


with BuildPart() as fusion048_2:
    # Cylinder096 placement: moved
    add(fusion048_1.part.moved(Location((33, -31, 75))))

    # Fusion047: union Cilindro050, Fillet036
    add(cilindro050_2.part)
    add(fillet036.part)

    # Cut118: cut Cilindro053
    add(cilindro053_2.part, mode=Mode.SUBTRACT)

    # Cut119: cut Cilindro051
    add(cilindro051_2.part, mode=Mode.SUBTRACT)

    # Fusion048: union Cubo039
    add(cubo039.part)


with BuildPart() as effector001:
    # Sketch059 → Pad052 (new body)
    with BuildSketch(Plane.YZ.offset(13)):
        Polygon((24.25286, 93.889427), (24.25286, 56.014507), (-18.913932, 56.014507), (-18.913932, 109.960938), (0, 109.960938), (3.931488, 93.889427), align=None)
    extrude(amount=PAD052_DEPTH)

    # Fillet041
    fillet041_edges = [effector001.edges().sort_by_distance(p)[0] for p in [
        (33, -18.913932, 56.014507),
    ]]
    fillet(fillet041_edges, radius=FILLET041_R)

    # Fillet042
    fillet042_edges = [effector001.edges().sort_by_distance(p)[0] for p in [
        (33, 24.25286, 56.014507),
    ]]
    fillet(fillet042_edges, radius=FILLET042_R)

    # Fillet043
    fillet043_edges = [effector001.edges().sort_by_distance(p)[0] for p in [
        (33, 24.25286, 93.889427),
    ]]
    fillet(fillet043_edges, radius=FILLET043_R)

    # Fillet044
    fillet044_edges = [effector001.edges().sort_by_distance(p)[0] for p in [
        (33, 0, 109.960938),
    ]]
    fillet(fillet044_edges, radius=FILLET044_R)

    # Fusion049: union Fusion048
    add(fusion048_2.part)

    # Cut120: cut Cubo040
    add(cubo040.part, mode=Mode.SUBTRACT)

    # Cut123: cut Fusion054
    add(fusion054_2.part, mode=Mode.SUBTRACT)

    # Cut124: cut Fusion055
    add(fusion055_3.part, mode=Mode.SUBTRACT)

    # Cut136: cut M029
    add(m029_2.part, mode=Mode.SUBTRACT)

    # Cut137: cut M026
    add(m026_2.part, mode=Mode.SUBTRACT)


solid = effector001.part
